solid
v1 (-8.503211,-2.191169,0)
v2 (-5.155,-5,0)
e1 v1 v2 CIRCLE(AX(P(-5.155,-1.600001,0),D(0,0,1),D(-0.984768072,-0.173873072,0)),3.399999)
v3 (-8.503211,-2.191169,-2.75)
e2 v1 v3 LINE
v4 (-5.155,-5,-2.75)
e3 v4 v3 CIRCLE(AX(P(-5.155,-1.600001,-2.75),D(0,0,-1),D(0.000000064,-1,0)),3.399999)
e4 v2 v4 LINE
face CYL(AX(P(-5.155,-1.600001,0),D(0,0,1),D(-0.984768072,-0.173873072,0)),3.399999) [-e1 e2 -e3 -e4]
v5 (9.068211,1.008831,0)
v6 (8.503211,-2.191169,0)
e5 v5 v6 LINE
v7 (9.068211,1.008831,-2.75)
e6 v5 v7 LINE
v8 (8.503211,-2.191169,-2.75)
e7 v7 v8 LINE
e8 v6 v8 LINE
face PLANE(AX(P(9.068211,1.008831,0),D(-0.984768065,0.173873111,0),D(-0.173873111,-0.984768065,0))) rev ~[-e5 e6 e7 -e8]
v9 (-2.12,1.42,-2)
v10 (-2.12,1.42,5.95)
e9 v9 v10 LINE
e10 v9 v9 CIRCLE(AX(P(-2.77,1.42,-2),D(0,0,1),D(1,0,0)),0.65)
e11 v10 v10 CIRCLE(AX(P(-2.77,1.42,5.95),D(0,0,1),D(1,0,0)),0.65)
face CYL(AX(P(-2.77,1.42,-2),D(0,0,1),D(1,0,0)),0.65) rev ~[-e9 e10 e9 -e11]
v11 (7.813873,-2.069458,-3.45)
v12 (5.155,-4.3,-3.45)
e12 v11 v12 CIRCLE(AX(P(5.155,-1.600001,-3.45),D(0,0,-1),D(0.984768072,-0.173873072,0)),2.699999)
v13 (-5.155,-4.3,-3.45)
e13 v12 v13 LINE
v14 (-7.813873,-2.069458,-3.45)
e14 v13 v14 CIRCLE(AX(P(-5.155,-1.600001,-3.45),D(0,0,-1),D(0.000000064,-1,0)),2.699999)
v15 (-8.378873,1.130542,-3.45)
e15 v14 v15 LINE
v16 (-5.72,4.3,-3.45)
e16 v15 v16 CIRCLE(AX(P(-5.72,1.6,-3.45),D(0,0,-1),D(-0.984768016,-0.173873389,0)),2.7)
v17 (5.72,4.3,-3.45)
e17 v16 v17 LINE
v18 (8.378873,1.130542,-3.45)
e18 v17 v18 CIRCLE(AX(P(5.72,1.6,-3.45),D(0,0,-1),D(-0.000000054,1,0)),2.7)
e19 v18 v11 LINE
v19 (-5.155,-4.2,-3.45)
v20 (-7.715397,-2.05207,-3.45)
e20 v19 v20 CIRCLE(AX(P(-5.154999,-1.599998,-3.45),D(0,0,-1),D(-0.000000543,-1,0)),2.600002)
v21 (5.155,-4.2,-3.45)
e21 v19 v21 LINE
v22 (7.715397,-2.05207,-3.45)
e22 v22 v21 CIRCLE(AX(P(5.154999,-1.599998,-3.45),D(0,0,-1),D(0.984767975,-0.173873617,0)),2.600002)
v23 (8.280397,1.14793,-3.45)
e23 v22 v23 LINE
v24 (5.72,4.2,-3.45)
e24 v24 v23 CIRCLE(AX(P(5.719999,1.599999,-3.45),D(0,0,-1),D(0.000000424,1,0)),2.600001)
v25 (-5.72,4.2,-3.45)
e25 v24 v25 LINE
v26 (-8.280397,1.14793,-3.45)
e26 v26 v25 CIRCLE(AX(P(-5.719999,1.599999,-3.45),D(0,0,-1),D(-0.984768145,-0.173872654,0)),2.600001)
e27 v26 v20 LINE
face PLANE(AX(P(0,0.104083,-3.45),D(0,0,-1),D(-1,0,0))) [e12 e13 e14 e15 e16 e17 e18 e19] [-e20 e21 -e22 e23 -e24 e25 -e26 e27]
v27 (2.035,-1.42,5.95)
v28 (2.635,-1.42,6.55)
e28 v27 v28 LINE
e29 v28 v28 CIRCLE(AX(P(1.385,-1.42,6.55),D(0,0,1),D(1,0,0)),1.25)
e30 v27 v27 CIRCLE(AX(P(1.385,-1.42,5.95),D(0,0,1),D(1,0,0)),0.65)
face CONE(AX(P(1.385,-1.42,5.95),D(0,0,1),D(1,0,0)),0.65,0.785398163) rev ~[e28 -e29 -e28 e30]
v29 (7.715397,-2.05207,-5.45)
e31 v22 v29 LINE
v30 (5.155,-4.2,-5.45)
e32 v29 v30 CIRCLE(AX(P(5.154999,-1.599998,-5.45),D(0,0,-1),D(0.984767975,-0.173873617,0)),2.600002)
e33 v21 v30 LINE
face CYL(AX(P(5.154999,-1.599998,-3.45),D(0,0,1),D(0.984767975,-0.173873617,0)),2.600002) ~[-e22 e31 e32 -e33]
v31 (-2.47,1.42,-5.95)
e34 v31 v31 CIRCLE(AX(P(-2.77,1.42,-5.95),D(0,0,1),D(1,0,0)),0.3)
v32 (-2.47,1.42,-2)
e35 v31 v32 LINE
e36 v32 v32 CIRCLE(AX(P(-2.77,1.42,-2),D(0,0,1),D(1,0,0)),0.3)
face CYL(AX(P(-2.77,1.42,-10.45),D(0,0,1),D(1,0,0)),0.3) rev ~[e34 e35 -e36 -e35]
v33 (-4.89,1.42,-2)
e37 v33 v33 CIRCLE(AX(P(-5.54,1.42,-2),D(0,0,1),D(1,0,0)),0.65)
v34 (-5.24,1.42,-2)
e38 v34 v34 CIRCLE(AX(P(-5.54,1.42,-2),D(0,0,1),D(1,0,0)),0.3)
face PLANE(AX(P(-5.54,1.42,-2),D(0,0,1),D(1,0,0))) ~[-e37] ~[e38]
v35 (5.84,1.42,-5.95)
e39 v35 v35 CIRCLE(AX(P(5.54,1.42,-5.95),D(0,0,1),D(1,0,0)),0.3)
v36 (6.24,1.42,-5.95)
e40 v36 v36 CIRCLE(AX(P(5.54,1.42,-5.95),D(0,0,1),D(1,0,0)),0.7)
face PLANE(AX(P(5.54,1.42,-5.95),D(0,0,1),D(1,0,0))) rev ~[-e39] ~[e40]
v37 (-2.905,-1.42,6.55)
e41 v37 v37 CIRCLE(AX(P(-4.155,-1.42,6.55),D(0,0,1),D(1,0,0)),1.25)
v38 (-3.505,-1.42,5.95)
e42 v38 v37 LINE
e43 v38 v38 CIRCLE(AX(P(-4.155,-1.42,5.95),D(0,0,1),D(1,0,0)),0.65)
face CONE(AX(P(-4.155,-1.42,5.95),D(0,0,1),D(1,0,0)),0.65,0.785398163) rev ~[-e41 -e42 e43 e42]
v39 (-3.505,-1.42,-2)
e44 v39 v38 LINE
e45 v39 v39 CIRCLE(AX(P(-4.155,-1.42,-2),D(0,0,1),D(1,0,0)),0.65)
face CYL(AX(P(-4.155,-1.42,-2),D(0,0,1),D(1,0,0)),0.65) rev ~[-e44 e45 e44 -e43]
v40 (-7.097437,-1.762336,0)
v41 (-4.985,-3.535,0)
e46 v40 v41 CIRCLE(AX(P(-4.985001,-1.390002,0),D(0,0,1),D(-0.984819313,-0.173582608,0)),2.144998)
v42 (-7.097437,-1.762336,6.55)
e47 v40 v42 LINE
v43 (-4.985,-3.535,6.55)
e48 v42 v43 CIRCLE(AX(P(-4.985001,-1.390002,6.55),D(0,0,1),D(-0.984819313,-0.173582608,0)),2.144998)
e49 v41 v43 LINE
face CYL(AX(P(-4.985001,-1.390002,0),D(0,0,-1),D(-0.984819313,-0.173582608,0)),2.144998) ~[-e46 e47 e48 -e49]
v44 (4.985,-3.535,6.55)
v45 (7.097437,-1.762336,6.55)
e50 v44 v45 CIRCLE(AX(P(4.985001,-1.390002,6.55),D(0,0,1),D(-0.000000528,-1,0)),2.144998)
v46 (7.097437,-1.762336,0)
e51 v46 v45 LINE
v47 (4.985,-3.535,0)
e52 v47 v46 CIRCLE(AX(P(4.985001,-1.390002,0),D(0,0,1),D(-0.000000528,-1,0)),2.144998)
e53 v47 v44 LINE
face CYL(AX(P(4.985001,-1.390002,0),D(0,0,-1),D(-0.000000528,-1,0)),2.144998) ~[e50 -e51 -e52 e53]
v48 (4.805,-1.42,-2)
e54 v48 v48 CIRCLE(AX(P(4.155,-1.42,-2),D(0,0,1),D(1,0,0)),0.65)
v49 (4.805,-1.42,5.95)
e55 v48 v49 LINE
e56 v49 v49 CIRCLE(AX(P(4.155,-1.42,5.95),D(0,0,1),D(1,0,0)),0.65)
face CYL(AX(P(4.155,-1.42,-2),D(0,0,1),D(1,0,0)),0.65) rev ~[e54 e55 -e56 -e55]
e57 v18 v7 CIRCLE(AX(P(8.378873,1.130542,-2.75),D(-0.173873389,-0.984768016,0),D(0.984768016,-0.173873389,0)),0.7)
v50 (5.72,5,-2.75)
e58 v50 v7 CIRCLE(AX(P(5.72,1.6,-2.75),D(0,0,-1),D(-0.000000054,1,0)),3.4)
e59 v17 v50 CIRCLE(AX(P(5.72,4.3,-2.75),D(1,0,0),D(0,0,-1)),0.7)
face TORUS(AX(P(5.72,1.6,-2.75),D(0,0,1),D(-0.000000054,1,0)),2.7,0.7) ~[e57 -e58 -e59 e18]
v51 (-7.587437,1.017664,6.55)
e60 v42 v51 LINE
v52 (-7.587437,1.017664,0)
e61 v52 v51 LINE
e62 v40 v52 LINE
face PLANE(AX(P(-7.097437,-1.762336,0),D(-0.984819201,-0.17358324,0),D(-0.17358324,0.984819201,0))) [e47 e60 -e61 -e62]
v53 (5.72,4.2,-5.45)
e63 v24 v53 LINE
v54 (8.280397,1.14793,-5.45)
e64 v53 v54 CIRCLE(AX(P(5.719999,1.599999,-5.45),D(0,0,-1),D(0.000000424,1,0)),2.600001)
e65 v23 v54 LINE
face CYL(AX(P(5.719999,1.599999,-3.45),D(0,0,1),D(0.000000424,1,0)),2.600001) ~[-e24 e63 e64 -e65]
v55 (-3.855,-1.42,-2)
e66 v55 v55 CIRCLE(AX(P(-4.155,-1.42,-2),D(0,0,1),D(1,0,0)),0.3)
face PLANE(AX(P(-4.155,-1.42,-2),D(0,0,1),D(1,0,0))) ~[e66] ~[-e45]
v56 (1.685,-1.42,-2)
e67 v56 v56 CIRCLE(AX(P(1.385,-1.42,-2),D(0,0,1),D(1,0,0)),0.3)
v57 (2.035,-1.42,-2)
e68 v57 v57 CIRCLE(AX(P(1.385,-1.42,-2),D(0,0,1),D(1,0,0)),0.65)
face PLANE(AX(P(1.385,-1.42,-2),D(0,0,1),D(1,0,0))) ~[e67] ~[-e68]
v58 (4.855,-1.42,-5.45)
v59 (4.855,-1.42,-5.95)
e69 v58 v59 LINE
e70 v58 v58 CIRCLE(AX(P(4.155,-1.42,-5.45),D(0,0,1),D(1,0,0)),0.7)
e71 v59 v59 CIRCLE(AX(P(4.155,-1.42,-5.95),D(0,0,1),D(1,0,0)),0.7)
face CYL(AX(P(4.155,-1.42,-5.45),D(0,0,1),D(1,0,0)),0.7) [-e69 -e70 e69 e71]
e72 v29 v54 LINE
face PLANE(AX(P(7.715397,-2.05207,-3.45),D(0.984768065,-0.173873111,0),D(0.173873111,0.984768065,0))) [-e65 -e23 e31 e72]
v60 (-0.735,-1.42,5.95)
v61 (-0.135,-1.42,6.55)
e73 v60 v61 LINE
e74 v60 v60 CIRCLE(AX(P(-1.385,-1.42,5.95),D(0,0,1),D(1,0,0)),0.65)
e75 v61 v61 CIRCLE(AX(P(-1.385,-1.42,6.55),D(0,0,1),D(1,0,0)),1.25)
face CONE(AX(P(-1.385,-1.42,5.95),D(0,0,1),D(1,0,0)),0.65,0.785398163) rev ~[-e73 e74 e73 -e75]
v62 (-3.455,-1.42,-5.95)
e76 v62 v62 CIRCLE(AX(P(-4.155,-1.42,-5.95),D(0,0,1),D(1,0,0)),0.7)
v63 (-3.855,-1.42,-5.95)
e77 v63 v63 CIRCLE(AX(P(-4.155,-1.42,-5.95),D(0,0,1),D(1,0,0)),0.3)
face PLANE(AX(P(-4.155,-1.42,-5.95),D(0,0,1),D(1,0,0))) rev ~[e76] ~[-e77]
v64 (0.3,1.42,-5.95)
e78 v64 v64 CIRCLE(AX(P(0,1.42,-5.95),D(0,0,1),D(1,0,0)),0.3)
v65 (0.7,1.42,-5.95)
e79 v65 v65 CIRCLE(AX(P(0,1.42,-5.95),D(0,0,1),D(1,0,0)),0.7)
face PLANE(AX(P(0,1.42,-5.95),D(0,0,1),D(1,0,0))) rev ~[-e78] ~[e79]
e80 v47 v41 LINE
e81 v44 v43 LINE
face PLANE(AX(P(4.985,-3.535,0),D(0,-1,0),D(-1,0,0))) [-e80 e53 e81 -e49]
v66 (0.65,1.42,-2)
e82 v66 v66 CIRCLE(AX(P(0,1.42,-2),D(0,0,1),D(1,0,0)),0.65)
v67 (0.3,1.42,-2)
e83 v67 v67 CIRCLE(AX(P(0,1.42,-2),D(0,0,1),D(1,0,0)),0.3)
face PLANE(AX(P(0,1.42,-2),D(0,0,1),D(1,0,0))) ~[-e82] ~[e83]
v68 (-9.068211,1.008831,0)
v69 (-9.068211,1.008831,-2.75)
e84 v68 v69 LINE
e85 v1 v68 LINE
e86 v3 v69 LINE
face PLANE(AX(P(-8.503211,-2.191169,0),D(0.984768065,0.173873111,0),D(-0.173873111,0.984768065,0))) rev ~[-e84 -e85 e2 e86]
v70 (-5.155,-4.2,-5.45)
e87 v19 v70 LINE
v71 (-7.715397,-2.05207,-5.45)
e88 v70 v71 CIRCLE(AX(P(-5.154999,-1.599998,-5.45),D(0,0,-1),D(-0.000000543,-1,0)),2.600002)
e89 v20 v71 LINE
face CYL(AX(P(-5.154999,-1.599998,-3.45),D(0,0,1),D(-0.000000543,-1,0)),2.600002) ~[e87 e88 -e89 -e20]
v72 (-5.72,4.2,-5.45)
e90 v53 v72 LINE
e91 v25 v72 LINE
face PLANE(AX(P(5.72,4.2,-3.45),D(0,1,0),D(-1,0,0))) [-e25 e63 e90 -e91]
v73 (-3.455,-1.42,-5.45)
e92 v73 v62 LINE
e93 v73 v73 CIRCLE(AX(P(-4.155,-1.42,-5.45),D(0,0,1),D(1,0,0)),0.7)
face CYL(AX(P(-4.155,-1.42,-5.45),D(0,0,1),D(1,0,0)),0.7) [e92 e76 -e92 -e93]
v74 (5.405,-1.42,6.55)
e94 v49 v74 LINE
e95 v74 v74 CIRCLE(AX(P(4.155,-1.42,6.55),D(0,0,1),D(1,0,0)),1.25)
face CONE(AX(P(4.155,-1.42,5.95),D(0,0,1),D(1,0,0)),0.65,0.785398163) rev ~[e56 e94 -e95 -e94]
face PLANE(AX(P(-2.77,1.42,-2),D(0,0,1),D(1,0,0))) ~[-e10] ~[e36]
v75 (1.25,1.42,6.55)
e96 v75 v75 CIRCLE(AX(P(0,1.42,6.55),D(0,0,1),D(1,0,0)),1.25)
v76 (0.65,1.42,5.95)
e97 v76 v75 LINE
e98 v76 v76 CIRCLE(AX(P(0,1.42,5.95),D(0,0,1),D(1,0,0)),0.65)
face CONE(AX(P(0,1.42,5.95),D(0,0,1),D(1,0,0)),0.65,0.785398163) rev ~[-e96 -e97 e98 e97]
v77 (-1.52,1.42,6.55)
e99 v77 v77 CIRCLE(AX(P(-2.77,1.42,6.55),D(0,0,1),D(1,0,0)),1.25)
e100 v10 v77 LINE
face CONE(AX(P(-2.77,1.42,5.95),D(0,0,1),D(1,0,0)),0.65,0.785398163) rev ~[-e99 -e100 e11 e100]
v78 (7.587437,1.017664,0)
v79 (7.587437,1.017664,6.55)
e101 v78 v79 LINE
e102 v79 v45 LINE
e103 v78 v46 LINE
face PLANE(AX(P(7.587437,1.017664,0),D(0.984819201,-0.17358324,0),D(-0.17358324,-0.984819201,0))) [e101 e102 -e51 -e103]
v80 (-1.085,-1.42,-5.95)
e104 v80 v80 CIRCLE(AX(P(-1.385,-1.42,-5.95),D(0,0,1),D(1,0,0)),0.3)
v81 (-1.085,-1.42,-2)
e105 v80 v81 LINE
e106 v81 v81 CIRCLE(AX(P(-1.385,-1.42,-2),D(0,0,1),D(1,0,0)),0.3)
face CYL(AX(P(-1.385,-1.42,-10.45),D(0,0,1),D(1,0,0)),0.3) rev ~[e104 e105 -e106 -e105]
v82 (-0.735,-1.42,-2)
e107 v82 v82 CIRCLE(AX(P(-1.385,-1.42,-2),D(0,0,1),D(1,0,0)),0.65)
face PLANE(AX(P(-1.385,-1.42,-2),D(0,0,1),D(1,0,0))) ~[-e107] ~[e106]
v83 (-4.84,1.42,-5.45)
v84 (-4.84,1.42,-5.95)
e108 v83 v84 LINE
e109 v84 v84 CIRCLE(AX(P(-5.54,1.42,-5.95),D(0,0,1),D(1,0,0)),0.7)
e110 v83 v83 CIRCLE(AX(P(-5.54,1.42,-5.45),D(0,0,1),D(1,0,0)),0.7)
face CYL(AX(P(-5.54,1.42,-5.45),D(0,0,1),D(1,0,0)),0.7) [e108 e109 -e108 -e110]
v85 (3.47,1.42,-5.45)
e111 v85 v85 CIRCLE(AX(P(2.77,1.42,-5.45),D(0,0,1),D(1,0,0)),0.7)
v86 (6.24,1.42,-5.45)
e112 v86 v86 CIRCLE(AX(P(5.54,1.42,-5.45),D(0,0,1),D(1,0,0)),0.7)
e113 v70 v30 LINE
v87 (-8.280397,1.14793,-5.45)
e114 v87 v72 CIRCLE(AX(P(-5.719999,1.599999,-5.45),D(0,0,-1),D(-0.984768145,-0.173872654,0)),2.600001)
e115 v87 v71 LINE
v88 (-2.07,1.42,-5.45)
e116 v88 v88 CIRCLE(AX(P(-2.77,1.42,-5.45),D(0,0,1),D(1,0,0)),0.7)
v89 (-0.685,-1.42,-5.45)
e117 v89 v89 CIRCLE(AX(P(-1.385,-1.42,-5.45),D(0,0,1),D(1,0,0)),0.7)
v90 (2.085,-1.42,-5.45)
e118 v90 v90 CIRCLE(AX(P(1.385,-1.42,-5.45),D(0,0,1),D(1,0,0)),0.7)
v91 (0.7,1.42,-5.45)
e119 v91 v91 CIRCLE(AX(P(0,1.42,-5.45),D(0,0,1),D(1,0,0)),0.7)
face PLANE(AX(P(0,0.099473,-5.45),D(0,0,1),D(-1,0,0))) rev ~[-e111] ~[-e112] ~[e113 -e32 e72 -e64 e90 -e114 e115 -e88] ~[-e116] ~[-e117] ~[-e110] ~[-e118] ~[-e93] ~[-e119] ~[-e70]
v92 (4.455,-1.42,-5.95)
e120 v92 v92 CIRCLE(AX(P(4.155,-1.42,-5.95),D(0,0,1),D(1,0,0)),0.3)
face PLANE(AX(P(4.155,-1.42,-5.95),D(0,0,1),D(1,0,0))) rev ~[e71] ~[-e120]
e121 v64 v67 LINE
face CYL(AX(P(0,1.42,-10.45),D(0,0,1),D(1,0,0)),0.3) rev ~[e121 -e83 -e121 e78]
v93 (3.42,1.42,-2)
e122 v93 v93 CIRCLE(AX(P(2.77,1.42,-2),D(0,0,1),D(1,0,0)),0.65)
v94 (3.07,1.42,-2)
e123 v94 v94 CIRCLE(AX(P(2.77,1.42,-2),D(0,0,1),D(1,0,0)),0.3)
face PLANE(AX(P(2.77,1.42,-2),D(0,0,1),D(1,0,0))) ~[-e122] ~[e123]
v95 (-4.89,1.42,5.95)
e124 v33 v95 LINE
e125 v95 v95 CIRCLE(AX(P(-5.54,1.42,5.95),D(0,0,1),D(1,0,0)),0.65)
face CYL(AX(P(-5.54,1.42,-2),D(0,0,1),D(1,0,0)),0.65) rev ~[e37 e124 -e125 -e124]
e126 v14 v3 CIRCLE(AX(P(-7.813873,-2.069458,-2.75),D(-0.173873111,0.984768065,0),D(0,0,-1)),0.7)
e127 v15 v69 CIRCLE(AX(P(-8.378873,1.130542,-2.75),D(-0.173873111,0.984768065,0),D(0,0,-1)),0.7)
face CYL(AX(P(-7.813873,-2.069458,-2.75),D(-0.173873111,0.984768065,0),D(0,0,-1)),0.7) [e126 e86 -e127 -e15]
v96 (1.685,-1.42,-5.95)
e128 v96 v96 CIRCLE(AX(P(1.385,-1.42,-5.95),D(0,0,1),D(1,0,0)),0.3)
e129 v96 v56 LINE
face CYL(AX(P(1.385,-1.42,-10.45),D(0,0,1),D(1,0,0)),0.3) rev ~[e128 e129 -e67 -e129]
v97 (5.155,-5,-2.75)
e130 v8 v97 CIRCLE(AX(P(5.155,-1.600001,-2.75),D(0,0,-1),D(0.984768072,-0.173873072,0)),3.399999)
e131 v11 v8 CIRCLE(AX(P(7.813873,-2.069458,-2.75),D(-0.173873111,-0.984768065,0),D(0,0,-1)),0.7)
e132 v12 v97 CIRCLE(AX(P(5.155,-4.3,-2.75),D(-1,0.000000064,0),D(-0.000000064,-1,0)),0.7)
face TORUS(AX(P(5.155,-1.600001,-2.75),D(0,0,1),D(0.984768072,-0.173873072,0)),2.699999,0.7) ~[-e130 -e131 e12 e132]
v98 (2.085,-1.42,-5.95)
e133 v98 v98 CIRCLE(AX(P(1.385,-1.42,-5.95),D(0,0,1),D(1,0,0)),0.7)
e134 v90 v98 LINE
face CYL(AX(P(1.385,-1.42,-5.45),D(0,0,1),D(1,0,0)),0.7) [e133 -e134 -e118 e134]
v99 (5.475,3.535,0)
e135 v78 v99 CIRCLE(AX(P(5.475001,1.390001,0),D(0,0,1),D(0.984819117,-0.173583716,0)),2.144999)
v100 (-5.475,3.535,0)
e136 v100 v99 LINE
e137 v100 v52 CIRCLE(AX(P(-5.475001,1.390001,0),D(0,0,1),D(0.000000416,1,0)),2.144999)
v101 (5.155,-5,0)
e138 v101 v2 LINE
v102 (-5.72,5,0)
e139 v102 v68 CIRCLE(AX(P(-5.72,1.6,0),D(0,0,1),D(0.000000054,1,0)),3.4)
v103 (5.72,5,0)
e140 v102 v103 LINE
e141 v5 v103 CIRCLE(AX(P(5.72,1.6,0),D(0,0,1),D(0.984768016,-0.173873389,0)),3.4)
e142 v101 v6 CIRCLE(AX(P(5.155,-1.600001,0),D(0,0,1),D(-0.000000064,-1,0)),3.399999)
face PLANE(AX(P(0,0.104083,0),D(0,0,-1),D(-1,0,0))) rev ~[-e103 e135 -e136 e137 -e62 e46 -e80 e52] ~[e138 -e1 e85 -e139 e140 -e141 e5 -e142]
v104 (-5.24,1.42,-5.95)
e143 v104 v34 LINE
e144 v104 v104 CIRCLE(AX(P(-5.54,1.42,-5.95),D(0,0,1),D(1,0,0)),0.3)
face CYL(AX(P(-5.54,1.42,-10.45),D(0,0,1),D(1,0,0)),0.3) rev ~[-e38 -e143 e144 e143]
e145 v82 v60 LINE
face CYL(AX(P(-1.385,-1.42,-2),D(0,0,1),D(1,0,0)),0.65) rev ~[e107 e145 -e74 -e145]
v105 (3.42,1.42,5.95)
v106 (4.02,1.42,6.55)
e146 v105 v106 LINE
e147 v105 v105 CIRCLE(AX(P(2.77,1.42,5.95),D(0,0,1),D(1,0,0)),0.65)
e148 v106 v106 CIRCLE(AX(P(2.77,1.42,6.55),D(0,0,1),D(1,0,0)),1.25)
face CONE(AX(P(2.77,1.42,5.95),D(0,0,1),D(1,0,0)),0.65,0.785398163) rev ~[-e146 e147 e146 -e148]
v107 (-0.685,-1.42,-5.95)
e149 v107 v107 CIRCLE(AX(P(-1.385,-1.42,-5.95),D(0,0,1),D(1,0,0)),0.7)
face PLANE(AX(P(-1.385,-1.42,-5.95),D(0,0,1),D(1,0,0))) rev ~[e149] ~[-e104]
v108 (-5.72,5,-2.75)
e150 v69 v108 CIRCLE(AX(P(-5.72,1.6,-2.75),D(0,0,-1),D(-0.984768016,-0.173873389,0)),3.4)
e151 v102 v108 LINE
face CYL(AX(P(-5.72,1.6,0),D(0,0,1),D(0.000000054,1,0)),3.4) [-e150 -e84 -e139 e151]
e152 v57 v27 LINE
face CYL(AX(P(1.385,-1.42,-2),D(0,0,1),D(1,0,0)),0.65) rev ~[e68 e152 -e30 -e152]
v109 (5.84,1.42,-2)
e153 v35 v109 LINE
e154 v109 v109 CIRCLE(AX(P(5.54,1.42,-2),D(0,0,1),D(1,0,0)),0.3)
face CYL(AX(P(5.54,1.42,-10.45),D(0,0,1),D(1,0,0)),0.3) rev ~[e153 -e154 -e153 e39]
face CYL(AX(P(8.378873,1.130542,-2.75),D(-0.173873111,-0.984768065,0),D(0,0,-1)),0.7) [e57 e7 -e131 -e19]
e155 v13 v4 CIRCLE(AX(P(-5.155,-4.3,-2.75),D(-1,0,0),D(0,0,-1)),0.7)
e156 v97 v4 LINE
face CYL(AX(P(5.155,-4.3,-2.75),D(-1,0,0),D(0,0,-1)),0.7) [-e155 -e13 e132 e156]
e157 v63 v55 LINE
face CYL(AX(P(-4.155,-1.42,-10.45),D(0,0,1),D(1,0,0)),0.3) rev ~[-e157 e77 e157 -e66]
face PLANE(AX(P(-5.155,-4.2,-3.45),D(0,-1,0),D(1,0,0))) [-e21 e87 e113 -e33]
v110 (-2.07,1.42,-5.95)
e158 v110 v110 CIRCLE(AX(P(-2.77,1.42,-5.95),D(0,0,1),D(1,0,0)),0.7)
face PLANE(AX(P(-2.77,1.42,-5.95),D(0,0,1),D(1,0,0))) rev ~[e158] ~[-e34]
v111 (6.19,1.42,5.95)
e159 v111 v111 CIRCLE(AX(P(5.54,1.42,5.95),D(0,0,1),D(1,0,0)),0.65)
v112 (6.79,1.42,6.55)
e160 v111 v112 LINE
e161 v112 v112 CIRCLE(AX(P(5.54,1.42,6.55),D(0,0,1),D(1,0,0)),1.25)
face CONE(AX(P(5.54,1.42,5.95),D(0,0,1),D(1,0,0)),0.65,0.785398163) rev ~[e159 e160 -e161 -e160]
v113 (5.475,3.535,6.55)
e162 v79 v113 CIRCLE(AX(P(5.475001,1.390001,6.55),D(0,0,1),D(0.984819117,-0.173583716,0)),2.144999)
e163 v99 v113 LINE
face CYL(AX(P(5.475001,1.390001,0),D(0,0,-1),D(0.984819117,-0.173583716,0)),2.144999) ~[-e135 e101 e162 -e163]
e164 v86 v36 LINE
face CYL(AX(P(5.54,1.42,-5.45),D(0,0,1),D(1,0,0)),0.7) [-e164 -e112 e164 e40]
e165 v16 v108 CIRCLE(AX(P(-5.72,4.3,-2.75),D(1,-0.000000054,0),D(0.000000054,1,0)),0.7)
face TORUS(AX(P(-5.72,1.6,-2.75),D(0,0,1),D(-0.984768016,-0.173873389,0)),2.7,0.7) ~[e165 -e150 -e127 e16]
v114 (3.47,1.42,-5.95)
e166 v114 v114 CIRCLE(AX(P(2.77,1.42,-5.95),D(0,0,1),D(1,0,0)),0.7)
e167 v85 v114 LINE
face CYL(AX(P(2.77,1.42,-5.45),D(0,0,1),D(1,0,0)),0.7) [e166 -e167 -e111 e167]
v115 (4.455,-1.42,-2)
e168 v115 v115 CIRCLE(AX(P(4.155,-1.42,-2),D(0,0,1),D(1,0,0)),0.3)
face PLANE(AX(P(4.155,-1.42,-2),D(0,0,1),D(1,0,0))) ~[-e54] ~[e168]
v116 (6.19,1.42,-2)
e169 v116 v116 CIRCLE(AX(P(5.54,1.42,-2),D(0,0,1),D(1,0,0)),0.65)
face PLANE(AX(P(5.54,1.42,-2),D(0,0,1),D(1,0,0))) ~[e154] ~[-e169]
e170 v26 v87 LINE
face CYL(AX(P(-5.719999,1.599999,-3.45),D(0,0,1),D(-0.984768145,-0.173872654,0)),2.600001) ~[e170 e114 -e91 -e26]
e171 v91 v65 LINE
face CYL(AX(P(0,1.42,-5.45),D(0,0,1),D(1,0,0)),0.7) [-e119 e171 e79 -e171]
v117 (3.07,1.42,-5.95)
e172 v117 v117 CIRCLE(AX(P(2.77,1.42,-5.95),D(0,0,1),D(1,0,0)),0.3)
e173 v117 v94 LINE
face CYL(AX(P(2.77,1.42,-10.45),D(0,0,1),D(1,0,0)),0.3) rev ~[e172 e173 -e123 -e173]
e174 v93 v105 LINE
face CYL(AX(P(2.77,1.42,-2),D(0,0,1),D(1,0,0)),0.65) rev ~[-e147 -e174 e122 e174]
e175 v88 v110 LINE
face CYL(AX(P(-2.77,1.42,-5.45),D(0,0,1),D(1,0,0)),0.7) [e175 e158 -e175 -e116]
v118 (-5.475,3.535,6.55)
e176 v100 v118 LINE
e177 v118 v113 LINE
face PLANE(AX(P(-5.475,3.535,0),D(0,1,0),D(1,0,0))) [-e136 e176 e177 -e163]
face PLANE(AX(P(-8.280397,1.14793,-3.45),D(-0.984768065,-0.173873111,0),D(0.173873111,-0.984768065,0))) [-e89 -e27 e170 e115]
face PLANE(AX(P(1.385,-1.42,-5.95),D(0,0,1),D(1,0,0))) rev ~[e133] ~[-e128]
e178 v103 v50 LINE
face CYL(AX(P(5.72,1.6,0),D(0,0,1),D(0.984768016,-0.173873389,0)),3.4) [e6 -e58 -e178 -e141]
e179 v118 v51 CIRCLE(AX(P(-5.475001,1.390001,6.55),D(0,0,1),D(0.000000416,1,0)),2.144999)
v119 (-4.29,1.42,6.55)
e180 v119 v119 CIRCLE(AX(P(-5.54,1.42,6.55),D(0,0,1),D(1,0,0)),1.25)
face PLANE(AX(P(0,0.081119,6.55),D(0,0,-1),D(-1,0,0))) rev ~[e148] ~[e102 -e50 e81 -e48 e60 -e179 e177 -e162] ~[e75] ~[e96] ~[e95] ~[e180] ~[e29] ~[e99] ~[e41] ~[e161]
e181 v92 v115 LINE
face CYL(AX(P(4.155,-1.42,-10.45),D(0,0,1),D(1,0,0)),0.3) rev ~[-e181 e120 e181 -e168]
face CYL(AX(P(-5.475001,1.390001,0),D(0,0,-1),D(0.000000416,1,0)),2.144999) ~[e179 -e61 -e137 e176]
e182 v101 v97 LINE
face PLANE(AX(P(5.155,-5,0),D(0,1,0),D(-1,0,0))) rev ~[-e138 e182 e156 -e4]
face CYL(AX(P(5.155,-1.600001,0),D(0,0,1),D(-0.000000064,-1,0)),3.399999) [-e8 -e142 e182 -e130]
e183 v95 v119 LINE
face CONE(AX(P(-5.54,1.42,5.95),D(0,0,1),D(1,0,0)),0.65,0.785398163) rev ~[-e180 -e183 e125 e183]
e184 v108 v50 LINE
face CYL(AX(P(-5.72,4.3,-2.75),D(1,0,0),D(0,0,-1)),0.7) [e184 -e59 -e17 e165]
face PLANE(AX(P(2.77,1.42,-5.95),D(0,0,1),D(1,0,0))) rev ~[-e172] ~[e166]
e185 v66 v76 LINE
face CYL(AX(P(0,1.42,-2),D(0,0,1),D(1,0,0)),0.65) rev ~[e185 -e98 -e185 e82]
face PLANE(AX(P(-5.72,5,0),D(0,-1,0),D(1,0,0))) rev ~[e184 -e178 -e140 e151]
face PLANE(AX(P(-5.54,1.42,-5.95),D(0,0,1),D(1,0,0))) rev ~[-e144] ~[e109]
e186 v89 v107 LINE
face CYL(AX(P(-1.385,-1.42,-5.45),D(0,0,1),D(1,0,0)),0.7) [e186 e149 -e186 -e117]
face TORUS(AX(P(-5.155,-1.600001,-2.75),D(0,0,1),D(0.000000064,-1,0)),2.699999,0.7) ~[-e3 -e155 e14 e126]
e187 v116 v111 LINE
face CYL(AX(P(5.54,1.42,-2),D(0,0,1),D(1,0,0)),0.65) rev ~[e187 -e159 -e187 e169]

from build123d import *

# Parameters (mm, degrees)
ARRAY008_X_COUNT = 5
ARRAY008_X_PITCH = 2.77
ARRAY007_X_COUNT = 4
ARRAY007_X_PITCH = 2.77
ARRAY007_Y_COUNT = 2
ARRAY007_Y_PITCH = 100
PAD004_DEPTH     = 3.45
PAD005_DEPTH     = 2
FILLET007_R      = 0.7
PAD008_DEPTH     = 6.55
SKETCH016_R      = 0.7
PAD006_DEPTH     = 0.5
ARRAY_X_COUNT    = 5
ARRAY_X_PITCH    = 2.77
SKETCH017_R      = 0.7
PAD007_DEPTH     = 0.5
ARRAY001_X_COUNT = 4
ARRAY001_X_PITCH = 2.77


with BuildPart() as array008:
    # Sketch025 → Revolution008 (revolve)
    with BuildSketch(Plane.XZ):
        with BuildLine():
            Line((0, 6.65), (0, -10.75))
            ThreePointArc((0, -10.75), (0.212132, -10.662132), (0.3, -10.45))
            Line((0.3, -10.45), (0.3, -2))
            Line((0.3, -2), (0.65, -2))
            Line((0.65, -2), (0.65, 5.95))
            Line((0.65, 5.95), (1.35, 6.65))
            Line((1.35, 6.65), (0, 6.65))
        make_face()
    revolve(axis=Axis((0, 0, 0), (0, 0, 1)))


with BuildPart() as array008_1:
    # Body015 placement: moved
    add(array008.part.moved(Location((-5.54, 1.42, 0))))

    # Array008 X: Array008 ×5


with BuildPart() as array008_2:
    add(array008_1.part)
    with Locations(*[(i * ARRAY008_X_PITCH, 0, 0) for i in range(1, ARRAY008_X_COUNT)]):
        add(array008_1.part)


with BuildPart() as fusion003:
    # Sketch024 → Revolution007 (revolve)
    with BuildSketch(Plane.XZ):
        with BuildLine():
            Line((0, 6.65), (0, -10.75))
            ThreePointArc((0, -10.75), (0.212132, -10.662132), (0.3, -10.45))
            Line((0.3, -10.45), (0.3, -2))
            Line((0.3, -2), (0.65, -2))
            Line((0.65, -2), (0.65, 5.95))
            Line((0.65, 5.95), (1.35, 6.65))
            Line((1.35, 6.65), (0, 6.65))
        make_face()
    revolve(axis=Axis((0, 0, 0), (0, 0, 1)))


with BuildPart() as fusion003_1:
    # Body014 placement: moved
    add(fusion003.part.moved(Location((-4.155, -1.42, 0))))

    # Array007 X: Fusion003 ×4


with BuildPart() as fusion003_2:
    add(fusion003_1.part)
    with Locations(*[(i * ARRAY007_X_PITCH, 0, 0) for i in range(1, ARRAY007_X_COUNT)]):
        add(fusion003_1.part)

    # Array007 Y: Fusion003 ×2


with BuildPart() as fusion003_3:
    add(fusion003_2.part)
    with Locations(*[(0, i * ARRAY007_Y_PITCH, 0) for i in range(1, ARRAY007_Y_COUNT)]):
        add(fusion003_2.part)

    # Fusion003: union Array008
    add(array008_2.part)


with BuildPart() as body006:
    # Sketch014 → Pad004 (new body)
    with BuildSketch(Plane.XY):
        with BuildLine():
            Line((-5.72, 5), (5.72, 5))
            ThreePointArc((9.068211, 1.008831), (8.324801, 3.78518), (5.72, 5))
            Line((9.068211, 1.008831), (8.503211, -2.191169))
            ThreePointArc((5.155, -5), (7.34018, -4.204801), (8.503211, -2.191169))
            Line((5.155, -5), (-5.155, -5))
            ThreePointArc((-8.503211, -2.191169), (-7.34018, -4.204801), (-5.155, -5))
            Line((-8.503211, -2.191169), (-9.068211, 1.008831))
            ThreePointArc((-5.72, 5), (-8.324801, 3.78518), (-9.068211, 1.008831))
        make_face()
    extrude(amount=-PAD004_DEPTH)

    # Sketch015 (on Face10 of Pad004) → Pad005 (join)
    with BuildSketch(Plane(origin=(0, 0, -3.45), x_dir=(1, 0, 0), z_dir=(0, 0, -1))):
        with BuildLine():
            Line((-5.155, 4.2), (5.155, 4.2))
            ThreePointArc((7.715397, 2.05207), (6.82602, 3.591906), (5.155, 4.2))
            Line((7.715397, 2.05207), (8.280397, -1.14793))
            ThreePointArc((5.72, -4.2), (7.711906, -3.27102), (8.280397, -1.14793))
            Line((5.72, -4.2), (-5.72, -4.2))
            ThreePointArc((-8.280397, -1.14793), (-7.711906, -3.27102), (-5.72, -4.2))
            Line((-8.280397, -1.14793), (-7.715397, 2.05207))
            ThreePointArc((-5.155, 4.2), (-6.82602, 3.591906), (-7.715397, 2.05207))
        make_face()
    extrude(amount=PAD005_DEPTH)

    # Fillet007
    fillet007_edges = [body006.edges().sort_by_distance(p)[0] for p in [
        (-8.785711, -0.591169, -3.45),
    ]]
    fillet(fillet007_edges, radius=FILLET007_R)

    # Sketch022 (on Face4 of Fillet007) → Pad008 (join)
    with BuildSketch(Plane.XY):
        with BuildLine():
            Line((-5.475, 3.535), (5.475, 3.535))
            ThreePointArc((7.587437, 1.017664), (7.11812, 2.768834), (5.475, 3.535))
            Line((7.587437, 1.017664), (7.097437, -1.762336))
            ThreePointArc((4.985, -3.535), (6.363834, -3.03312), (7.097437, -1.762336))
            Line((4.985, -3.535), (-4.985, -3.535))
            ThreePointArc((-7.097437, -1.762336), (-6.363834, -3.03312), (-4.985, -3.535))
            Line((-7.097437, -1.762336), (-7.587437, 1.017664))
            ThreePointArc((-5.475, 3.535), (-7.11812, 2.768834), (-7.587437, 1.017664))
        make_face()
    extrude(amount=PAD008_DEPTH)


with BuildPart() as array:
    # Sketch016 → Pad006 (new body)
    with BuildSketch(Plane.XY):
        Circle(SKETCH016_R)
    extrude(amount=-PAD006_DEPTH)


with BuildPart() as array_1:
    # Body007 placement: moved
    add(array.part.moved(Location((-5.54, 1.42, -5.45))))

    # Array X: Array ×5


with BuildPart() as array_2:
    add(array_1.part)
    with Locations(*[(i * ARRAY_X_PITCH, 0, 0) for i in range(1, ARRAY_X_COUNT)]):
        add(array_1.part)


with BuildPart() as cut:
    # Sketch017 → Pad007 (new body)
    with BuildSketch(Plane.XY):
        Circle(SKETCH017_R)
    extrude(amount=-PAD007_DEPTH)


with BuildPart() as cut_1:
    # Body008 placement: moved
    add(cut.part.moved(Location((-4.155, -1.42, -5.45))))

    # Array001 X: Cut ×4


with BuildPart() as cut_2:
    add(cut_1.part)
    with Locations(*[(i * ARRAY001_X_PITCH, 0, 0) for i in range(1, ARRAY001_X_COUNT)]):
        add(cut_1.part)

    # Fusion: union Array
    add(array_2.part)

    # Fusion002: union Body006
    add(body006.part)

    # Cut: cut Fusion003
    add(fusion003_3.part, mode=Mode.SUBTRACT)


solid = cut_2.part
